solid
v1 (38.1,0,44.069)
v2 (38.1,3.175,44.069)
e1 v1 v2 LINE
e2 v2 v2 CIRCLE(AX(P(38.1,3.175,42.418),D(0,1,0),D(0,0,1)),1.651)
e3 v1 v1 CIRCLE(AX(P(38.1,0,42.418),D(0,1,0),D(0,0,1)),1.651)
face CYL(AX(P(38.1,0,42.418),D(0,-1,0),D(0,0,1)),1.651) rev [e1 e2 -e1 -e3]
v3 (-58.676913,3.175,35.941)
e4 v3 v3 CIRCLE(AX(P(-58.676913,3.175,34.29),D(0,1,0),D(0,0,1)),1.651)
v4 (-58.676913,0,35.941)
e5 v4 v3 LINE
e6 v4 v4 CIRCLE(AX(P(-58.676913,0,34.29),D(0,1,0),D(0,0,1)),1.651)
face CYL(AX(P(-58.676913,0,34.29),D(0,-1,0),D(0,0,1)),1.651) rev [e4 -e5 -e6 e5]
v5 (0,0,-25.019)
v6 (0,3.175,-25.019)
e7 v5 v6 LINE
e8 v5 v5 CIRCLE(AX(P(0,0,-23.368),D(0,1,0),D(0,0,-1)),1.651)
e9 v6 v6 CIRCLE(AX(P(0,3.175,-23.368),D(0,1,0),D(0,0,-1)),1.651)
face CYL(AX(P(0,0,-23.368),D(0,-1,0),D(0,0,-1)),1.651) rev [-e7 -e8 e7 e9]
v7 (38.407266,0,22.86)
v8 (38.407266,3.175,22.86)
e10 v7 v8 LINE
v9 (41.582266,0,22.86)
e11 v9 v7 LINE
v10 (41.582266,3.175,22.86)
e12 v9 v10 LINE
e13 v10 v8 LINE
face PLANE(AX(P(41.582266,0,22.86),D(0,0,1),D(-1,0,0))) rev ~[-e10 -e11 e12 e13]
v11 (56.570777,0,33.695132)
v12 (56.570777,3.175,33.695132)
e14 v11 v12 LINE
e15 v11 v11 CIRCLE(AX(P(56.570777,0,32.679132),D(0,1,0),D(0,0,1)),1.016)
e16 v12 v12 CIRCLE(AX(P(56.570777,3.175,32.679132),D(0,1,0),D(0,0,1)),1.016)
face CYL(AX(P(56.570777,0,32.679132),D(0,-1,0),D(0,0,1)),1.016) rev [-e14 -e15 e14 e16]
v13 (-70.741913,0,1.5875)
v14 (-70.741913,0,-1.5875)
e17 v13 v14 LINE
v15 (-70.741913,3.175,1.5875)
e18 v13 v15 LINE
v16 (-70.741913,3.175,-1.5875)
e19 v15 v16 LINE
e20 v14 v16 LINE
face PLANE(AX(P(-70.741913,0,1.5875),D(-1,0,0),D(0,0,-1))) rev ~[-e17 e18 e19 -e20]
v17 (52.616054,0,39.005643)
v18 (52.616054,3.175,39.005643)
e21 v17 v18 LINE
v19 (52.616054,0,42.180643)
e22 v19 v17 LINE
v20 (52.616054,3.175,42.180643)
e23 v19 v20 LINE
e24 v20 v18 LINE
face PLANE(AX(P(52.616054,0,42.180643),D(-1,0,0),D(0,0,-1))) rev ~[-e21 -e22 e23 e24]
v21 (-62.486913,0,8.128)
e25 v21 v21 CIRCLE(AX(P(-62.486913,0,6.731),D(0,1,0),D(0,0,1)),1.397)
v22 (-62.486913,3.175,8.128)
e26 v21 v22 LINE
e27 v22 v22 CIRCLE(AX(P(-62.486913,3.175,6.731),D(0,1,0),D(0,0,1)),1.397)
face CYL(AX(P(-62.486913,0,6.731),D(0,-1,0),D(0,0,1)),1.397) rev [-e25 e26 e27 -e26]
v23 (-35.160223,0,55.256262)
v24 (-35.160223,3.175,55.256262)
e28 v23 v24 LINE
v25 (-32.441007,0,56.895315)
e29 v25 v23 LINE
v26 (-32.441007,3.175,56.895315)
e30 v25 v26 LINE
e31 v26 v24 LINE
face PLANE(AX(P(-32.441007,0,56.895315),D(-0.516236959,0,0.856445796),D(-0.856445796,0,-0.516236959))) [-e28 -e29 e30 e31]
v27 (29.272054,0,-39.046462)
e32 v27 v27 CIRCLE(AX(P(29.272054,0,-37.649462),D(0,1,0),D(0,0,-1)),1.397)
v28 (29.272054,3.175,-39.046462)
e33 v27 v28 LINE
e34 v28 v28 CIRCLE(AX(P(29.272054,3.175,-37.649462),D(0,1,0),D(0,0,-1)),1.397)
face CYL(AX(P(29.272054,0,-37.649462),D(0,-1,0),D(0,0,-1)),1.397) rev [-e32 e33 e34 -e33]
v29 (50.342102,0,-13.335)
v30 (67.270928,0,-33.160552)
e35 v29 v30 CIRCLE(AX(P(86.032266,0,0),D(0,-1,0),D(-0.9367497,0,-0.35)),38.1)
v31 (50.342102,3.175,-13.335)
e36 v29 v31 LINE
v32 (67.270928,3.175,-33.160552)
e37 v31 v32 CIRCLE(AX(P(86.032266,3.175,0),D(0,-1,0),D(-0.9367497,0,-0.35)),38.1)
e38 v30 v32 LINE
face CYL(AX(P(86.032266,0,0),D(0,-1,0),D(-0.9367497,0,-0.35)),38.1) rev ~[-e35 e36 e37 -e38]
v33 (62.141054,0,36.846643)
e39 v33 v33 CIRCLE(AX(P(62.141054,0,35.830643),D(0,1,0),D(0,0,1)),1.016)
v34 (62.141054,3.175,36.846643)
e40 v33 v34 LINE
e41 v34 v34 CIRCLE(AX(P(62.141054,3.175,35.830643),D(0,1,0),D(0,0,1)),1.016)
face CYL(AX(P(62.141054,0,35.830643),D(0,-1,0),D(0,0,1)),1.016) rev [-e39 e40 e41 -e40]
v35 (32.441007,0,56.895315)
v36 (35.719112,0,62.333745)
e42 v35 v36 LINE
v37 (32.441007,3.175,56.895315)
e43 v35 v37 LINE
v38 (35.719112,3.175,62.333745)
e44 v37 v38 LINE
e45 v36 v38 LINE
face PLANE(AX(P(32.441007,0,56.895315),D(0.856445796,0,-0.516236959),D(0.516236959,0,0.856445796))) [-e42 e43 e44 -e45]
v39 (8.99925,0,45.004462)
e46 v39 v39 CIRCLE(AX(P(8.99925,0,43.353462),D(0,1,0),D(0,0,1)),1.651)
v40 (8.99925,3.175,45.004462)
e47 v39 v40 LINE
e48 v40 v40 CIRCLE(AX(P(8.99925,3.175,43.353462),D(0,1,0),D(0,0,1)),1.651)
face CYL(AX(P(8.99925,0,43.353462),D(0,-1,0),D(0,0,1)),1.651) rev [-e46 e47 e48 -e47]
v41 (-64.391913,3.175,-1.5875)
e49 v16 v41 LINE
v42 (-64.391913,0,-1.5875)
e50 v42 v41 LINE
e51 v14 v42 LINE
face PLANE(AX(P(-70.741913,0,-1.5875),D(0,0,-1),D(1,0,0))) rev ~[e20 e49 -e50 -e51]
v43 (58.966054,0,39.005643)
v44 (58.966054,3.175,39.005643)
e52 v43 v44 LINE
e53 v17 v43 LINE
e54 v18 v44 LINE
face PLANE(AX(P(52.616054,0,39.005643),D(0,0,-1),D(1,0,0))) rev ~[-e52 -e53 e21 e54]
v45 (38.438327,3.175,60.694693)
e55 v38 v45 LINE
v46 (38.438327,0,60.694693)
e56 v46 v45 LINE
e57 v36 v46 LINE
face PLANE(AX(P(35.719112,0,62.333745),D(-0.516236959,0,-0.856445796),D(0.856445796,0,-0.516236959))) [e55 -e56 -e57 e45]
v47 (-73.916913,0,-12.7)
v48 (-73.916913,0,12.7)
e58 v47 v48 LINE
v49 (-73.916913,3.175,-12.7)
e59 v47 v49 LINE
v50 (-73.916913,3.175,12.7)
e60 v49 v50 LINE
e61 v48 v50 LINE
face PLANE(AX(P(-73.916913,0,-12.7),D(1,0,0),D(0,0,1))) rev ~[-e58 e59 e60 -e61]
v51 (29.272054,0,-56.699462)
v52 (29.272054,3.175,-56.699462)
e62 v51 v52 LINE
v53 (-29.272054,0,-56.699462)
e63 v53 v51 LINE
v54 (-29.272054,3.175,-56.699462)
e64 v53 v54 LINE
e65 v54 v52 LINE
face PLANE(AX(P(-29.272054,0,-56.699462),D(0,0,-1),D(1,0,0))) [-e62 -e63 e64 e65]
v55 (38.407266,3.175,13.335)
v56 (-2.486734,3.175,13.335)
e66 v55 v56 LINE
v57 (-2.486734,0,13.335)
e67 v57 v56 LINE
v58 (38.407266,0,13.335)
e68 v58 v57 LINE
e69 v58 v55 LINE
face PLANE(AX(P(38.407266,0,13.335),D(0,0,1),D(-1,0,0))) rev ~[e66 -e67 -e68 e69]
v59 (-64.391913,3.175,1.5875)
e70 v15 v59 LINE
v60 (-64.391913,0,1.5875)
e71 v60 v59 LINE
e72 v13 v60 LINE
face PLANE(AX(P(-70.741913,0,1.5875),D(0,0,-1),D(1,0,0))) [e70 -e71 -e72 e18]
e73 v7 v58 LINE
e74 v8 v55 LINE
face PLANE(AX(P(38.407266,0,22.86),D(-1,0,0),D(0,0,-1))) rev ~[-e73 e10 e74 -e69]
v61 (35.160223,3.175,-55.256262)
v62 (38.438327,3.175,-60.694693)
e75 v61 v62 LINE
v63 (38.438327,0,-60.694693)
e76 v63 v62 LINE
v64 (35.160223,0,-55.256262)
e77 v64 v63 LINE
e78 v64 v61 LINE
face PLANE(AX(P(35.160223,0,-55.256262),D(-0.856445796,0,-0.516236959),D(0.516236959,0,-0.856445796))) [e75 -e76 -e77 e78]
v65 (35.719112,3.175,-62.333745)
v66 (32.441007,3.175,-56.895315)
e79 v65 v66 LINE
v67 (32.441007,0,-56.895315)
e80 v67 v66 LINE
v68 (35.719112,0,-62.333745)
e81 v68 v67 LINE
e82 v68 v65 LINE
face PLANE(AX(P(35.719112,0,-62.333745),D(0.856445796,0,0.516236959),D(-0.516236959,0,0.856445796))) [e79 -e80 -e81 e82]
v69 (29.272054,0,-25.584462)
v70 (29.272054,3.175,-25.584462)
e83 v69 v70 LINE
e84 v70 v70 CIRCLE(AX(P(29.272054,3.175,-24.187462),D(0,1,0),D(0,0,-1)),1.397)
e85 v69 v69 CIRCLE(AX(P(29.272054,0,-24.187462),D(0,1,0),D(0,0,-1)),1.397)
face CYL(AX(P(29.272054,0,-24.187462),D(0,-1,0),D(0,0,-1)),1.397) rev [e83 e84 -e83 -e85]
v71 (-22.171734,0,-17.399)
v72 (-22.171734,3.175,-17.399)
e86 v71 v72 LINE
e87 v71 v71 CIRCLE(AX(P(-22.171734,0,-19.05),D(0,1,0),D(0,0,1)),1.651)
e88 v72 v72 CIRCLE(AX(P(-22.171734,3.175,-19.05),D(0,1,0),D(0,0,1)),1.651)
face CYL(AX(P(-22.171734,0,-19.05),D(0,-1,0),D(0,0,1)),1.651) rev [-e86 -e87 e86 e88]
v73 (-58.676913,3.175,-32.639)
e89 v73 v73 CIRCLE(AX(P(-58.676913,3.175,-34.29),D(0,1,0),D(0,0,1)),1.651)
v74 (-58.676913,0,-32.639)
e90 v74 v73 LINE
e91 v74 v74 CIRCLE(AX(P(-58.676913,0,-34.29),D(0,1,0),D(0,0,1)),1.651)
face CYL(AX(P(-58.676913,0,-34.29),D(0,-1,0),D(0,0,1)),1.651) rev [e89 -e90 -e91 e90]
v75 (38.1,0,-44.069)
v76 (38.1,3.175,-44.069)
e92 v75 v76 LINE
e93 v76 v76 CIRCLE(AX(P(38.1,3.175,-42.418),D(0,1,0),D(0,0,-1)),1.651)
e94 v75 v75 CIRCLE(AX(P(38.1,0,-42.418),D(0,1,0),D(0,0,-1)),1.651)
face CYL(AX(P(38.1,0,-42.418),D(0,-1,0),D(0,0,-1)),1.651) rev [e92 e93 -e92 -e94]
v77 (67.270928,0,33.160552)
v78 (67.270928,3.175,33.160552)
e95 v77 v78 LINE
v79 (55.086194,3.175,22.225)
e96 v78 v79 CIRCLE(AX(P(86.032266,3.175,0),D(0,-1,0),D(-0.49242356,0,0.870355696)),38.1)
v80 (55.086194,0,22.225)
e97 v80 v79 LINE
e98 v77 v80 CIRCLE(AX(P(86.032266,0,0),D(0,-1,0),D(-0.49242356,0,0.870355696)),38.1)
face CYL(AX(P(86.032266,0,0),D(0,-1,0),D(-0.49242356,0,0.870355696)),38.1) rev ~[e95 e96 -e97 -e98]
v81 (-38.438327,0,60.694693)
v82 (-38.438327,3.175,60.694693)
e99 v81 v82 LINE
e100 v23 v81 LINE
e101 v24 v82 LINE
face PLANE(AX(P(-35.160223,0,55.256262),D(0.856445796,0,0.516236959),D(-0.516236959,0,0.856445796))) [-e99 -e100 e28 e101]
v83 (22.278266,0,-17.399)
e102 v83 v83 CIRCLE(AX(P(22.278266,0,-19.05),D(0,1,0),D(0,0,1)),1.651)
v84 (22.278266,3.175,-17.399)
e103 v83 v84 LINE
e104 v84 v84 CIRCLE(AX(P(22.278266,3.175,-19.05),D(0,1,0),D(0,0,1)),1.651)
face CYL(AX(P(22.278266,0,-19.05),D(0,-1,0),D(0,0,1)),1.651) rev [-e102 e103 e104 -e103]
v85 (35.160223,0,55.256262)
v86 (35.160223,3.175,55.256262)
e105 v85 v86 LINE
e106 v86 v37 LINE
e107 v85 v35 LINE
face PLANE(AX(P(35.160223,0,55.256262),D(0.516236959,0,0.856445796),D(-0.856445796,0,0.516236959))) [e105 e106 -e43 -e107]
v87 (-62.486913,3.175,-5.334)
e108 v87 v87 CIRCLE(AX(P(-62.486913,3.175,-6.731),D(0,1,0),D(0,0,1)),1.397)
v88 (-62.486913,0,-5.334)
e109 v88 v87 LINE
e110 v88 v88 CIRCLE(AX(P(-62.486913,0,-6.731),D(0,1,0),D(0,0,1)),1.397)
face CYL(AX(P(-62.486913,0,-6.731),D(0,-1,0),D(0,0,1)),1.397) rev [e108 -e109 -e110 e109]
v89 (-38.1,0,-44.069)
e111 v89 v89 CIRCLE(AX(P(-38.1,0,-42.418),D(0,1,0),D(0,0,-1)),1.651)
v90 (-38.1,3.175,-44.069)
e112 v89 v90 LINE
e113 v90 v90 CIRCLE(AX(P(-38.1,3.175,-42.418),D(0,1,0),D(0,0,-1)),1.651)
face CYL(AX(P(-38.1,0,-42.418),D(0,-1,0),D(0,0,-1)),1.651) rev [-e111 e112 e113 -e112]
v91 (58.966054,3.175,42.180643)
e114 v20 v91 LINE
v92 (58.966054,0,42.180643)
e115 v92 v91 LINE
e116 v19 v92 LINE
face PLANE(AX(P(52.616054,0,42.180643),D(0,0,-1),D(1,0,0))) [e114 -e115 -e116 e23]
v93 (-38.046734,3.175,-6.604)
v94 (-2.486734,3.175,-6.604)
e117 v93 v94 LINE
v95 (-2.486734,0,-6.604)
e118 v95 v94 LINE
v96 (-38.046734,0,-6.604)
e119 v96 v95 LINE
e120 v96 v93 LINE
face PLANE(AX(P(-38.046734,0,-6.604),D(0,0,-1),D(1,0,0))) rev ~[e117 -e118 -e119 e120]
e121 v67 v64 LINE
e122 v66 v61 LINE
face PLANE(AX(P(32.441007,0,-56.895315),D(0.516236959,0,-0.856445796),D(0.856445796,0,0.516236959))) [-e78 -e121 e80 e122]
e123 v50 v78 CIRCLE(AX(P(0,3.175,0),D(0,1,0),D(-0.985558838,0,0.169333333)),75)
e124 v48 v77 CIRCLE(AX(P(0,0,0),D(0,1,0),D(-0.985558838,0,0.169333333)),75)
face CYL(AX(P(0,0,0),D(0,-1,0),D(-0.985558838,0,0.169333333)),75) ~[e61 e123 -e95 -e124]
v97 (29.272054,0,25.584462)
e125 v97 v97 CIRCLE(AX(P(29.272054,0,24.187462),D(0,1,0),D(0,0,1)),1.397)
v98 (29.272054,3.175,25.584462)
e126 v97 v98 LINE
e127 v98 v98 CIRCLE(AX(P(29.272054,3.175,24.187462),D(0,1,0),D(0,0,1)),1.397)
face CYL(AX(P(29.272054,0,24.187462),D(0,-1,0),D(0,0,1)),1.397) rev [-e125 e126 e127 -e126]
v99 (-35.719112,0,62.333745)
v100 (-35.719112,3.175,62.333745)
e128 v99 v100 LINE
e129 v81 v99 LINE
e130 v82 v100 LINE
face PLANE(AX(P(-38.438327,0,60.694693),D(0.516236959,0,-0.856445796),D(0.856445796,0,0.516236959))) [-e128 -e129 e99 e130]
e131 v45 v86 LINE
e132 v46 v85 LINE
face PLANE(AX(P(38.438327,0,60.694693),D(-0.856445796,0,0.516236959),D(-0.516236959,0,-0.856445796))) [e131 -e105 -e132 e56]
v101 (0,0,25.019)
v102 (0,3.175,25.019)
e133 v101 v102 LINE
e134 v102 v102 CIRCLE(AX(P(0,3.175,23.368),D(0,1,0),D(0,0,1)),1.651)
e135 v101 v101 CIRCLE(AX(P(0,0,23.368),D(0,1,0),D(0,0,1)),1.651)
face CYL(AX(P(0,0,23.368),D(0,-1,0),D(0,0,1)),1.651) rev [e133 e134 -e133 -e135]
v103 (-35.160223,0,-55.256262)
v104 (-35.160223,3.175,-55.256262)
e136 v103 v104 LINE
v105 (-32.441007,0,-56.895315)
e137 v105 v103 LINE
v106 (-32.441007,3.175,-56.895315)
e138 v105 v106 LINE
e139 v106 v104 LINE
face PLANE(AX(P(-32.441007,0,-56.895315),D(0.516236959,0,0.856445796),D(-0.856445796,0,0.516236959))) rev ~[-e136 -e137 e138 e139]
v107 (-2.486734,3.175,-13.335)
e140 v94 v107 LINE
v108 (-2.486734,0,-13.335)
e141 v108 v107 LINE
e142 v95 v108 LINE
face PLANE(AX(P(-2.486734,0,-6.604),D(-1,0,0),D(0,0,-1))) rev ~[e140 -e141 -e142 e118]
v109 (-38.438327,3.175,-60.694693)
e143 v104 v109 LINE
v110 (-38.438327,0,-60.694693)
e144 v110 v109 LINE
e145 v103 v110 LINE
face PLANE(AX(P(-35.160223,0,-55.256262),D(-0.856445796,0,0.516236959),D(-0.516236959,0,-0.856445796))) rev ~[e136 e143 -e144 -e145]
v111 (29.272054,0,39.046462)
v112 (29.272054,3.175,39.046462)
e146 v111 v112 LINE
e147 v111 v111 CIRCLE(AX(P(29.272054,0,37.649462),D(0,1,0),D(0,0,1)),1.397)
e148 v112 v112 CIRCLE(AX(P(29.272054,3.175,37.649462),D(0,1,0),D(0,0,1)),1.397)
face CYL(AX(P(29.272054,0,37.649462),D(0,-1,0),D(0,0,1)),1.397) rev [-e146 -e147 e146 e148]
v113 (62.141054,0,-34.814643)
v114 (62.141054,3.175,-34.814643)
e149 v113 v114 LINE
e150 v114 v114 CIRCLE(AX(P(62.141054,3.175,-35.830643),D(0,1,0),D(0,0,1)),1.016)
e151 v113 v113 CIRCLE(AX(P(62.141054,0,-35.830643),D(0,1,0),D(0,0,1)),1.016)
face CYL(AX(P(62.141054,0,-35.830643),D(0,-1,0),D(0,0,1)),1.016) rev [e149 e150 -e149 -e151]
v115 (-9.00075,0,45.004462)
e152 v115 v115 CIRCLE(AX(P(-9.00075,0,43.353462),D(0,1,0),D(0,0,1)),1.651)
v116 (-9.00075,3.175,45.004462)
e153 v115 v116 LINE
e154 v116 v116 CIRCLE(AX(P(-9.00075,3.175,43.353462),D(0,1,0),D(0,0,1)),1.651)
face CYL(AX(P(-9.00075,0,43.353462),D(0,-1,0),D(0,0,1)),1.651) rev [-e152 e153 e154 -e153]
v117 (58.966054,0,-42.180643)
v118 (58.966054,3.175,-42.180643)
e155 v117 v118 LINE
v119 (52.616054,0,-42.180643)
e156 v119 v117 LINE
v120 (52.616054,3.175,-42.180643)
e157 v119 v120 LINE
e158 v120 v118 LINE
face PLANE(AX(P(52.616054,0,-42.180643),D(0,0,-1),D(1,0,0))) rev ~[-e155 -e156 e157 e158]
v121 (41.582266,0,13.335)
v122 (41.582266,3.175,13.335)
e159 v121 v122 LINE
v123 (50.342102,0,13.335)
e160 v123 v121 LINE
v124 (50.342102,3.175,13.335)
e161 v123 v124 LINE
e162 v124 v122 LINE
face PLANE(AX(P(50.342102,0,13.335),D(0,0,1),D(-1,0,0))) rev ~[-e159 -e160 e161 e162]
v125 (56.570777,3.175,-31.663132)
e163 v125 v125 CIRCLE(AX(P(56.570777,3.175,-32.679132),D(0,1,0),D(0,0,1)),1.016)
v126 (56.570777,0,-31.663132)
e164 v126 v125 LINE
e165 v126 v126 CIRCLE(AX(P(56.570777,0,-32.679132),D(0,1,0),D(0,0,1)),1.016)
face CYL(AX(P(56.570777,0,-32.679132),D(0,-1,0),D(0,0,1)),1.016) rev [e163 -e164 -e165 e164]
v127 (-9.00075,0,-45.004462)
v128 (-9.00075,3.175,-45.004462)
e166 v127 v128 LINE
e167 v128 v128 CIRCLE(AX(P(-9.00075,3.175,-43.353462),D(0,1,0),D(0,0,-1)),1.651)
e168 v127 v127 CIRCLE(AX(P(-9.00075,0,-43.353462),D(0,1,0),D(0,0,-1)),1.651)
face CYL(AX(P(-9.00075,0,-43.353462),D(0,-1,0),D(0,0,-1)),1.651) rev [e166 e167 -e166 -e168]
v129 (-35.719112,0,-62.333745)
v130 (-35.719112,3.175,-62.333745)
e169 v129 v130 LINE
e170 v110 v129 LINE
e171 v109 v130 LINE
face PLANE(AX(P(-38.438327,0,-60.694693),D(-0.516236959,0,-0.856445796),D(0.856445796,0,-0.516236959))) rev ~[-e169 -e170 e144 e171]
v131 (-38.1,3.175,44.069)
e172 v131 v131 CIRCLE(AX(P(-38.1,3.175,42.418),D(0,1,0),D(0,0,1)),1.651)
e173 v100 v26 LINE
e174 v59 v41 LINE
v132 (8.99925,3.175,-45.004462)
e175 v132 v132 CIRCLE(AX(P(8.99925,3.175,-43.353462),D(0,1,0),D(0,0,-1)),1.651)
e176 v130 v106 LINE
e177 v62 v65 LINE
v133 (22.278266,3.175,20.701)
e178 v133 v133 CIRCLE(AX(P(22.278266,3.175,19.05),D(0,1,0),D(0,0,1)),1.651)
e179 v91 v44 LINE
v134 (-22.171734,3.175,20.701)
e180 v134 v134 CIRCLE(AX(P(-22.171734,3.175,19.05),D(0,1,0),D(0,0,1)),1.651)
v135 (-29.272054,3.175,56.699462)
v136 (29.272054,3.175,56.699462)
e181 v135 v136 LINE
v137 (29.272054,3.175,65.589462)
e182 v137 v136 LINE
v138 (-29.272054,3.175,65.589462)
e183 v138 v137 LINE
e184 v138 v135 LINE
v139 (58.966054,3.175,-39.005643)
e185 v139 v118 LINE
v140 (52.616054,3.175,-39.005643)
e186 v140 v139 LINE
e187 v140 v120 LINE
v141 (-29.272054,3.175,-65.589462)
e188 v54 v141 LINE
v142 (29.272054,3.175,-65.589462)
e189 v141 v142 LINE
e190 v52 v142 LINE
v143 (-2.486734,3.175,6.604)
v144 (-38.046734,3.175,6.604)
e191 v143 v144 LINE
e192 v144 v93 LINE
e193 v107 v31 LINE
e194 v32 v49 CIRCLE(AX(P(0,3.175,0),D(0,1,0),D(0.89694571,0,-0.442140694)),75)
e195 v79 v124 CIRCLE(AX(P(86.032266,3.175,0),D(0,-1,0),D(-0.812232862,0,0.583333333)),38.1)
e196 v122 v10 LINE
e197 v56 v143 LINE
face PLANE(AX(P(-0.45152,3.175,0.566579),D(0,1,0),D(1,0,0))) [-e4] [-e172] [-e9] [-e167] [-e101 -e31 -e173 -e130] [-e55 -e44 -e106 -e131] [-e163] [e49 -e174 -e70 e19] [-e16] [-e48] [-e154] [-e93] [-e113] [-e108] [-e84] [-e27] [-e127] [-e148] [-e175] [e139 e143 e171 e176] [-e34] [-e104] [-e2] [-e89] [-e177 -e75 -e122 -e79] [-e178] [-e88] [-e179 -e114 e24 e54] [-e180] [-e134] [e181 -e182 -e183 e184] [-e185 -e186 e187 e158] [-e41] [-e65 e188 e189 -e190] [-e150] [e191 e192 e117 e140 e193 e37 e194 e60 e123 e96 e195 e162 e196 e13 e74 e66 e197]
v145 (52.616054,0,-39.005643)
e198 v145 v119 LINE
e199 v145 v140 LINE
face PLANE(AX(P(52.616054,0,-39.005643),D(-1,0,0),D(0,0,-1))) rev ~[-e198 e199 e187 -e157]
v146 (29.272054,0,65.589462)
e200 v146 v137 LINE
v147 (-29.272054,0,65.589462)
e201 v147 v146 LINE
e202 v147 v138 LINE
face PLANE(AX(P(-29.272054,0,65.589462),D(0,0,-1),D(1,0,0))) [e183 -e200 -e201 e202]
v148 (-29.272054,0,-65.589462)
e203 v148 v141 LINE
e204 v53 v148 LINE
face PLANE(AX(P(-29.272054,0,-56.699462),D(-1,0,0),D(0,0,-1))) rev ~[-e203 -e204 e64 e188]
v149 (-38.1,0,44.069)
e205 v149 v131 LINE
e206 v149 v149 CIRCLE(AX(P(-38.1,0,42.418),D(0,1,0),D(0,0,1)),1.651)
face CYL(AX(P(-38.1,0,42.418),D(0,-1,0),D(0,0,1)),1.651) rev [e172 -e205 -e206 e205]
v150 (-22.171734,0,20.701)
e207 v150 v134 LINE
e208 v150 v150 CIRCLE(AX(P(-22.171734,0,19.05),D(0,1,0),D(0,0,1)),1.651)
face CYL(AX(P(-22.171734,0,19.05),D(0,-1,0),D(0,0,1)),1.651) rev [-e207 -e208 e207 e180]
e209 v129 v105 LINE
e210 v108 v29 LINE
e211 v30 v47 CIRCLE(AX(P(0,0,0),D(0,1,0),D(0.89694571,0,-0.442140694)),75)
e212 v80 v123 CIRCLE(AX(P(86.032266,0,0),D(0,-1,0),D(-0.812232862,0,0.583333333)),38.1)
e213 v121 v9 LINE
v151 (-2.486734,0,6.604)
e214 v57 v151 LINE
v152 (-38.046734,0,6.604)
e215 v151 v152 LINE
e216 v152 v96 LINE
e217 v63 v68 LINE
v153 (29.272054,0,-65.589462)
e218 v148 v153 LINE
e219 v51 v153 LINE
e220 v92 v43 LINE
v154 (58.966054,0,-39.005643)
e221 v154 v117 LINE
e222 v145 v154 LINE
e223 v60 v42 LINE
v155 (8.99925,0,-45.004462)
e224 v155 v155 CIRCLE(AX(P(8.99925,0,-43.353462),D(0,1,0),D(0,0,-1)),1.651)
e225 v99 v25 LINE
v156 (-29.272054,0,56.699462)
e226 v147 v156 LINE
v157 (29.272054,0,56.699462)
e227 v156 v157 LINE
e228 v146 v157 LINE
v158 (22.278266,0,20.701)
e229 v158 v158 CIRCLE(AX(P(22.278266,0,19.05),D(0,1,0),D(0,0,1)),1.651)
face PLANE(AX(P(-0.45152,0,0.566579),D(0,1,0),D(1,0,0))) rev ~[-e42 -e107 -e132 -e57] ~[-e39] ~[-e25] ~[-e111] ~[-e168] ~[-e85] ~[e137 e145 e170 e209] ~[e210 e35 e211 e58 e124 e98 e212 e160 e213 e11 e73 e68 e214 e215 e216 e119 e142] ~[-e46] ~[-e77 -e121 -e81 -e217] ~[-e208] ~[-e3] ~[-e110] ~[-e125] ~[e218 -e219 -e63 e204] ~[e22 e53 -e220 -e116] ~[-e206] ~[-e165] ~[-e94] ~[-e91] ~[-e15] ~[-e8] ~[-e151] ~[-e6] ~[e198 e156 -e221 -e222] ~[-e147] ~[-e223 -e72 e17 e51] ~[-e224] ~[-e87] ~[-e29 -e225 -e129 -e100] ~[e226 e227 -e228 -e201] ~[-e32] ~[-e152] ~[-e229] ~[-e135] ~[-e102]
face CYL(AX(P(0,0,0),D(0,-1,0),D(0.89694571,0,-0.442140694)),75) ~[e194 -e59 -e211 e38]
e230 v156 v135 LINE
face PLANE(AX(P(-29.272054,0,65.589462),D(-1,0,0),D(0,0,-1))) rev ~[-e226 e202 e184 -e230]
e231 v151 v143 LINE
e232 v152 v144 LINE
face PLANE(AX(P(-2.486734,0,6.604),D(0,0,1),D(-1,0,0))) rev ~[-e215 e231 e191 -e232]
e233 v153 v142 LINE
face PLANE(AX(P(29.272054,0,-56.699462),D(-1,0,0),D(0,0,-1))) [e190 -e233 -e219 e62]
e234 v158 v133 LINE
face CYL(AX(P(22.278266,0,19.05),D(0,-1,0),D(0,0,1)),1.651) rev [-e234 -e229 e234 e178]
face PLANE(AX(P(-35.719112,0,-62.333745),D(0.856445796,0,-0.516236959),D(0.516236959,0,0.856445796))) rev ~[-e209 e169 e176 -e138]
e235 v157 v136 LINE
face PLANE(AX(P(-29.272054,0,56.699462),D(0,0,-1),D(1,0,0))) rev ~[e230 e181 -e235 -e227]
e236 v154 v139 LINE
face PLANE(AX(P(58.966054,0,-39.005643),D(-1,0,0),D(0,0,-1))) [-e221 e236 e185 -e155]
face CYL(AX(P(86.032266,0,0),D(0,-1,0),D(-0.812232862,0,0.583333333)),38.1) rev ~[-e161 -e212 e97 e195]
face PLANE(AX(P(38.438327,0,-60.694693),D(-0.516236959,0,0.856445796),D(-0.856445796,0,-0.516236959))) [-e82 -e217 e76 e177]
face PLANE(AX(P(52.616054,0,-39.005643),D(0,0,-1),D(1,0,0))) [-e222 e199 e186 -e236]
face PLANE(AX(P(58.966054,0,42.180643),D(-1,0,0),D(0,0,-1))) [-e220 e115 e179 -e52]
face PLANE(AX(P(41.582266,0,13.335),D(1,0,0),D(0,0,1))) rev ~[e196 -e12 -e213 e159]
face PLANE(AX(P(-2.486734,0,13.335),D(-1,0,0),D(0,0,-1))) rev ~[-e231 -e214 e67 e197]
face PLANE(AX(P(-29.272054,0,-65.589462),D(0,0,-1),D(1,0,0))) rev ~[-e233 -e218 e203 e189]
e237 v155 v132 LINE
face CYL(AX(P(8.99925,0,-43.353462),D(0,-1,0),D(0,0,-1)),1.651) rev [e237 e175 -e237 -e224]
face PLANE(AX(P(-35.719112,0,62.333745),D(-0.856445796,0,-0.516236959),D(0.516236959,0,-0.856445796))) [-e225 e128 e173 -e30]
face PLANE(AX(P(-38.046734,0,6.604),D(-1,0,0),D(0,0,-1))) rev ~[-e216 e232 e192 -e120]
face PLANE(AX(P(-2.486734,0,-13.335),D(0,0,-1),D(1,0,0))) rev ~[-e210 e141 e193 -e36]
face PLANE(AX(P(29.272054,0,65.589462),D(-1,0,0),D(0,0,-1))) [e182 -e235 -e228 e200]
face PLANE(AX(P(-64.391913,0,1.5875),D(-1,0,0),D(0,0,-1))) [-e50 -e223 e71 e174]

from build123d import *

# Parameters (mm, degrees)
SKETCH1_R           = 1.397
SKETCH1_R_2         = 1.651
SKETCH1_R_3         = 1.016
SKETCH1_W           = 58.544107304
SKETCH1_H           = 8.89
SKETCH1_W_2         = 6.35
SKETCH1_H_2         = 3.175
BOSS_EXTRUDE1_DEPTH = 3.175


with BuildPart() as part:
    # Sketch1 → Boss-Extrude1 (new body)
    with BuildSketch(Plane(origin=(0, 0, 0), x_dir=(1, 0, 0), z_dir=(0, 1, 0))):
        with BuildLine():
            Line((38.407265908, 13.335), (41.582265908, 13.335))
            Line((41.582265908, 13.335), (50.342102347, 13.335))
            ThreePointArc((50.342102347, 13.335), (57.058059725, 24.74076345), (67.270928268, 33.160552015))
            ThreePointArc((67.270928268, 33.160552015), (-10.756431789, 74.224653419), (-73.916912814, 12.7))
            Line((-73.916912814, 12.7), (-73.916912814, -12.7))
            ThreePointArc((-73.916912814, -12.7), (-10.756431789, -74.224653419), (67.270928268, -33.160552015))
            ThreePointArc((67.270928268, -33.160552015), (60.584216496, -28.355013333), (55.086193863, -22.225))
            ThreePointArc((55.086193863, -22.225), (52.41895011, -17.937530518), (50.342102347, -13.335))
            Line((50.342102347, -13.335), (46.281265908, -13.335))
            Line((46.281265908, -13.335), (41.582265908, -13.335))
            Line((41.582265908, -13.335), (41.582265908, -22.86))
            Line((41.582265908, -22.86), (38.407265908, -22.86))
            Line((38.407265908, -22.86), (38.407265908, -13.335))
            Line((38.407265908, -13.335), (-2.486734092, -13.335))
            Line((-2.486734092, -13.335), (-2.486734092, -6.604))
            Line((-2.486734092, -6.604), (-38.046734092, -6.604))
            Line((-38.046734092, -6.604), (-38.046734092, 6.604))
            Line((-38.046734092, 6.604), (-2.486734092, 6.604))
            Line((-2.486734092, 6.604), (-2.486734092, 13.335))
            Line((-2.486734092, 13.335), (38.407265908, 13.335))
        make_face()
        with Locations(Location((-62.486912814, 6.731, 0), (0, 0, 270))):
            Circle(SKETCH1_R, mode=Mode.SUBTRACT)
        with Locations(Location((-62.486912814, -6.731, 0), (0, 0, 270))):
            Circle(SKETCH1_R, mode=Mode.SUBTRACT)
        with Locations(Location((-38.1, -42.418, 0), (0, 0, 270))):
            Circle(SKETCH1_R_2, mode=Mode.SUBTRACT)
        with Locations(Location((38.1, -42.418, 0), (0, 0, 270))):
            Circle(SKETCH1_R_2, mode=Mode.SUBTRACT)
        with Locations(Location((38.1, 42.418, 0), (0, 0, 90))):
            Circle(SKETCH1_R_2, mode=Mode.SUBTRACT)
        with Locations(Location((0, -23.368, 0), (0, 0, 270))):
            Circle(SKETCH1_R_2, mode=Mode.SUBTRACT)
        with Locations(Location((-38.1, 42.418, 0), (0, 0, 90))):
            Circle(SKETCH1_R_2, mode=Mode.SUBTRACT)
        with Locations(Location((0, 23.368, 0), (0, 0, 90))):
            Circle(SKETCH1_R_2, mode=Mode.SUBTRACT)
        with Locations(Location((29.272053652, -37.649461806, 0), (0, 0, 270))):
            Circle(SKETCH1_R, mode=Mode.SUBTRACT)
        with Locations(Location((-58.676912814, 34.29, 0), (0, 0, 270))):
            Circle(SKETCH1_R_2, mode=Mode.SUBTRACT)
        with Locations(Location((62.141053559, -35.830642926, 0), (0, 0, 270))):
            Circle(SKETCH1_R_3, mode=Mode.SUBTRACT)
        with Locations(Location((56.570777105, -32.679132142, 0), (0, 0, 270))):
            Circle(SKETCH1_R_3, mode=Mode.SUBTRACT)
        with Locations(Location((-58.676912814, -34.29, 0), (0, 0, 270))):
            Circle(SKETCH1_R_2, mode=Mode.SUBTRACT)
        with Locations(Location((29.272053652, -24.187461806, 0), (0, 0, 270))):
            Circle(SKETCH1_R, mode=Mode.SUBTRACT)
        with Locations(Location((29.272053652, 37.649461806, 0), (0, 0, 90))):
            Circle(SKETCH1_R, mode=Mode.SUBTRACT)
        with Locations(Location((29.272053652, 24.187461806, 0), (0, 0, 90))):
            Circle(SKETCH1_R, mode=Mode.SUBTRACT)
        with Locations(Location((8.99925, -43.353461806, 0), (0, 0, 270))):
            Circle(SKETCH1_R_2, mode=Mode.SUBTRACT)
        with Locations(Location((-9.00075, -43.353461806, 0), (0, 0, 270))):
            Circle(SKETCH1_R_2, mode=Mode.SUBTRACT)
        with Locations(Location((-9.00075, 43.353461806, 0), (0, 0, 90))):
            Circle(SKETCH1_R_2, mode=Mode.SUBTRACT)
        with Locations(Location((8.99925, 43.353461806, 0), (0, 0, 90))):
            Circle(SKETCH1_R_2, mode=Mode.SUBTRACT)
        with Locations(Location((62.141053559, 35.830642926, 0), (0, 0, 270))):
            Circle(SKETCH1_R_3, mode=Mode.SUBTRACT)
        with Locations(Location((56.570777105, 32.679132142, 0), (0, 0, 270))):
            Circle(SKETCH1_R_3, mode=Mode.SUBTRACT)
        with Locations(Location((22.278265908, 19.05, 0), (0, 0, 270))):
            Circle(SKETCH1_R_2, mode=Mode.SUBTRACT)
        with Locations(Location((22.278265908, -19.05, 0), (0, 0, 270))):
            Circle(SKETCH1_R_2, mode=Mode.SUBTRACT)
        with Locations(Location((-22.171734092, -19.05, 0), (0, 0, 270))):
            Circle(SKETCH1_R_2, mode=Mode.SUBTRACT)
        with Locations(Location((-22.171734092, 19.05, 0), (0, 0, 270))):
            Circle(SKETCH1_R_2, mode=Mode.SUBTRACT)
        with Locations((0, -61.144461806)):
            Rectangle(SKETCH1_W, SKETCH1_H, mode=Mode.SUBTRACT)
        with Locations((0, 61.144461806)):
            Rectangle(SKETCH1_W, SKETCH1_H, mode=Mode.SUBTRACT)
        with Locations((55.791053559, -40.593142926)):
            Rectangle(SKETCH1_W_2, SKETCH1_H_2, mode=Mode.SUBTRACT)
        with Locations((55.791053559, 40.593142926)):
            Rectangle(SKETCH1_W_2, SKETCH1_H_2, mode=Mode.SUBTRACT)
        Polygon((32.44100721, -56.895314679), (35.719111901, -62.333745485), (38.438327304, -60.694693139), (35.160222613, -55.256262334), align=None, mode=Mode.SUBTRACT)
        Polygon((-32.44100721, -56.895314679), (-35.160222613, -55.256262334), (-38.438327304, -60.694693139), (-35.719111901, -62.333745485), align=None, mode=Mode.SUBTRACT)
        Polygon((-35.160222613, 55.256262334), (-38.438327304, 60.694693139), (-35.719111901, 62.333745485), (-32.44100721, 56.895314679), align=None, mode=Mode.SUBTRACT)
        Polygon((35.160222613, 55.256262334), (38.438327304, 60.694693139), (35.719111901, 62.333745485), (32.44100721, 56.895314679), align=None, mode=Mode.SUBTRACT)
        with Locations((-67.566912814, 0)):
            Rectangle(SKETCH1_W_2, SKETCH1_H_2, mode=Mode.SUBTRACT)
    extrude(amount=BOSS_EXTRUDE1_DEPTH)


solid = part.part
